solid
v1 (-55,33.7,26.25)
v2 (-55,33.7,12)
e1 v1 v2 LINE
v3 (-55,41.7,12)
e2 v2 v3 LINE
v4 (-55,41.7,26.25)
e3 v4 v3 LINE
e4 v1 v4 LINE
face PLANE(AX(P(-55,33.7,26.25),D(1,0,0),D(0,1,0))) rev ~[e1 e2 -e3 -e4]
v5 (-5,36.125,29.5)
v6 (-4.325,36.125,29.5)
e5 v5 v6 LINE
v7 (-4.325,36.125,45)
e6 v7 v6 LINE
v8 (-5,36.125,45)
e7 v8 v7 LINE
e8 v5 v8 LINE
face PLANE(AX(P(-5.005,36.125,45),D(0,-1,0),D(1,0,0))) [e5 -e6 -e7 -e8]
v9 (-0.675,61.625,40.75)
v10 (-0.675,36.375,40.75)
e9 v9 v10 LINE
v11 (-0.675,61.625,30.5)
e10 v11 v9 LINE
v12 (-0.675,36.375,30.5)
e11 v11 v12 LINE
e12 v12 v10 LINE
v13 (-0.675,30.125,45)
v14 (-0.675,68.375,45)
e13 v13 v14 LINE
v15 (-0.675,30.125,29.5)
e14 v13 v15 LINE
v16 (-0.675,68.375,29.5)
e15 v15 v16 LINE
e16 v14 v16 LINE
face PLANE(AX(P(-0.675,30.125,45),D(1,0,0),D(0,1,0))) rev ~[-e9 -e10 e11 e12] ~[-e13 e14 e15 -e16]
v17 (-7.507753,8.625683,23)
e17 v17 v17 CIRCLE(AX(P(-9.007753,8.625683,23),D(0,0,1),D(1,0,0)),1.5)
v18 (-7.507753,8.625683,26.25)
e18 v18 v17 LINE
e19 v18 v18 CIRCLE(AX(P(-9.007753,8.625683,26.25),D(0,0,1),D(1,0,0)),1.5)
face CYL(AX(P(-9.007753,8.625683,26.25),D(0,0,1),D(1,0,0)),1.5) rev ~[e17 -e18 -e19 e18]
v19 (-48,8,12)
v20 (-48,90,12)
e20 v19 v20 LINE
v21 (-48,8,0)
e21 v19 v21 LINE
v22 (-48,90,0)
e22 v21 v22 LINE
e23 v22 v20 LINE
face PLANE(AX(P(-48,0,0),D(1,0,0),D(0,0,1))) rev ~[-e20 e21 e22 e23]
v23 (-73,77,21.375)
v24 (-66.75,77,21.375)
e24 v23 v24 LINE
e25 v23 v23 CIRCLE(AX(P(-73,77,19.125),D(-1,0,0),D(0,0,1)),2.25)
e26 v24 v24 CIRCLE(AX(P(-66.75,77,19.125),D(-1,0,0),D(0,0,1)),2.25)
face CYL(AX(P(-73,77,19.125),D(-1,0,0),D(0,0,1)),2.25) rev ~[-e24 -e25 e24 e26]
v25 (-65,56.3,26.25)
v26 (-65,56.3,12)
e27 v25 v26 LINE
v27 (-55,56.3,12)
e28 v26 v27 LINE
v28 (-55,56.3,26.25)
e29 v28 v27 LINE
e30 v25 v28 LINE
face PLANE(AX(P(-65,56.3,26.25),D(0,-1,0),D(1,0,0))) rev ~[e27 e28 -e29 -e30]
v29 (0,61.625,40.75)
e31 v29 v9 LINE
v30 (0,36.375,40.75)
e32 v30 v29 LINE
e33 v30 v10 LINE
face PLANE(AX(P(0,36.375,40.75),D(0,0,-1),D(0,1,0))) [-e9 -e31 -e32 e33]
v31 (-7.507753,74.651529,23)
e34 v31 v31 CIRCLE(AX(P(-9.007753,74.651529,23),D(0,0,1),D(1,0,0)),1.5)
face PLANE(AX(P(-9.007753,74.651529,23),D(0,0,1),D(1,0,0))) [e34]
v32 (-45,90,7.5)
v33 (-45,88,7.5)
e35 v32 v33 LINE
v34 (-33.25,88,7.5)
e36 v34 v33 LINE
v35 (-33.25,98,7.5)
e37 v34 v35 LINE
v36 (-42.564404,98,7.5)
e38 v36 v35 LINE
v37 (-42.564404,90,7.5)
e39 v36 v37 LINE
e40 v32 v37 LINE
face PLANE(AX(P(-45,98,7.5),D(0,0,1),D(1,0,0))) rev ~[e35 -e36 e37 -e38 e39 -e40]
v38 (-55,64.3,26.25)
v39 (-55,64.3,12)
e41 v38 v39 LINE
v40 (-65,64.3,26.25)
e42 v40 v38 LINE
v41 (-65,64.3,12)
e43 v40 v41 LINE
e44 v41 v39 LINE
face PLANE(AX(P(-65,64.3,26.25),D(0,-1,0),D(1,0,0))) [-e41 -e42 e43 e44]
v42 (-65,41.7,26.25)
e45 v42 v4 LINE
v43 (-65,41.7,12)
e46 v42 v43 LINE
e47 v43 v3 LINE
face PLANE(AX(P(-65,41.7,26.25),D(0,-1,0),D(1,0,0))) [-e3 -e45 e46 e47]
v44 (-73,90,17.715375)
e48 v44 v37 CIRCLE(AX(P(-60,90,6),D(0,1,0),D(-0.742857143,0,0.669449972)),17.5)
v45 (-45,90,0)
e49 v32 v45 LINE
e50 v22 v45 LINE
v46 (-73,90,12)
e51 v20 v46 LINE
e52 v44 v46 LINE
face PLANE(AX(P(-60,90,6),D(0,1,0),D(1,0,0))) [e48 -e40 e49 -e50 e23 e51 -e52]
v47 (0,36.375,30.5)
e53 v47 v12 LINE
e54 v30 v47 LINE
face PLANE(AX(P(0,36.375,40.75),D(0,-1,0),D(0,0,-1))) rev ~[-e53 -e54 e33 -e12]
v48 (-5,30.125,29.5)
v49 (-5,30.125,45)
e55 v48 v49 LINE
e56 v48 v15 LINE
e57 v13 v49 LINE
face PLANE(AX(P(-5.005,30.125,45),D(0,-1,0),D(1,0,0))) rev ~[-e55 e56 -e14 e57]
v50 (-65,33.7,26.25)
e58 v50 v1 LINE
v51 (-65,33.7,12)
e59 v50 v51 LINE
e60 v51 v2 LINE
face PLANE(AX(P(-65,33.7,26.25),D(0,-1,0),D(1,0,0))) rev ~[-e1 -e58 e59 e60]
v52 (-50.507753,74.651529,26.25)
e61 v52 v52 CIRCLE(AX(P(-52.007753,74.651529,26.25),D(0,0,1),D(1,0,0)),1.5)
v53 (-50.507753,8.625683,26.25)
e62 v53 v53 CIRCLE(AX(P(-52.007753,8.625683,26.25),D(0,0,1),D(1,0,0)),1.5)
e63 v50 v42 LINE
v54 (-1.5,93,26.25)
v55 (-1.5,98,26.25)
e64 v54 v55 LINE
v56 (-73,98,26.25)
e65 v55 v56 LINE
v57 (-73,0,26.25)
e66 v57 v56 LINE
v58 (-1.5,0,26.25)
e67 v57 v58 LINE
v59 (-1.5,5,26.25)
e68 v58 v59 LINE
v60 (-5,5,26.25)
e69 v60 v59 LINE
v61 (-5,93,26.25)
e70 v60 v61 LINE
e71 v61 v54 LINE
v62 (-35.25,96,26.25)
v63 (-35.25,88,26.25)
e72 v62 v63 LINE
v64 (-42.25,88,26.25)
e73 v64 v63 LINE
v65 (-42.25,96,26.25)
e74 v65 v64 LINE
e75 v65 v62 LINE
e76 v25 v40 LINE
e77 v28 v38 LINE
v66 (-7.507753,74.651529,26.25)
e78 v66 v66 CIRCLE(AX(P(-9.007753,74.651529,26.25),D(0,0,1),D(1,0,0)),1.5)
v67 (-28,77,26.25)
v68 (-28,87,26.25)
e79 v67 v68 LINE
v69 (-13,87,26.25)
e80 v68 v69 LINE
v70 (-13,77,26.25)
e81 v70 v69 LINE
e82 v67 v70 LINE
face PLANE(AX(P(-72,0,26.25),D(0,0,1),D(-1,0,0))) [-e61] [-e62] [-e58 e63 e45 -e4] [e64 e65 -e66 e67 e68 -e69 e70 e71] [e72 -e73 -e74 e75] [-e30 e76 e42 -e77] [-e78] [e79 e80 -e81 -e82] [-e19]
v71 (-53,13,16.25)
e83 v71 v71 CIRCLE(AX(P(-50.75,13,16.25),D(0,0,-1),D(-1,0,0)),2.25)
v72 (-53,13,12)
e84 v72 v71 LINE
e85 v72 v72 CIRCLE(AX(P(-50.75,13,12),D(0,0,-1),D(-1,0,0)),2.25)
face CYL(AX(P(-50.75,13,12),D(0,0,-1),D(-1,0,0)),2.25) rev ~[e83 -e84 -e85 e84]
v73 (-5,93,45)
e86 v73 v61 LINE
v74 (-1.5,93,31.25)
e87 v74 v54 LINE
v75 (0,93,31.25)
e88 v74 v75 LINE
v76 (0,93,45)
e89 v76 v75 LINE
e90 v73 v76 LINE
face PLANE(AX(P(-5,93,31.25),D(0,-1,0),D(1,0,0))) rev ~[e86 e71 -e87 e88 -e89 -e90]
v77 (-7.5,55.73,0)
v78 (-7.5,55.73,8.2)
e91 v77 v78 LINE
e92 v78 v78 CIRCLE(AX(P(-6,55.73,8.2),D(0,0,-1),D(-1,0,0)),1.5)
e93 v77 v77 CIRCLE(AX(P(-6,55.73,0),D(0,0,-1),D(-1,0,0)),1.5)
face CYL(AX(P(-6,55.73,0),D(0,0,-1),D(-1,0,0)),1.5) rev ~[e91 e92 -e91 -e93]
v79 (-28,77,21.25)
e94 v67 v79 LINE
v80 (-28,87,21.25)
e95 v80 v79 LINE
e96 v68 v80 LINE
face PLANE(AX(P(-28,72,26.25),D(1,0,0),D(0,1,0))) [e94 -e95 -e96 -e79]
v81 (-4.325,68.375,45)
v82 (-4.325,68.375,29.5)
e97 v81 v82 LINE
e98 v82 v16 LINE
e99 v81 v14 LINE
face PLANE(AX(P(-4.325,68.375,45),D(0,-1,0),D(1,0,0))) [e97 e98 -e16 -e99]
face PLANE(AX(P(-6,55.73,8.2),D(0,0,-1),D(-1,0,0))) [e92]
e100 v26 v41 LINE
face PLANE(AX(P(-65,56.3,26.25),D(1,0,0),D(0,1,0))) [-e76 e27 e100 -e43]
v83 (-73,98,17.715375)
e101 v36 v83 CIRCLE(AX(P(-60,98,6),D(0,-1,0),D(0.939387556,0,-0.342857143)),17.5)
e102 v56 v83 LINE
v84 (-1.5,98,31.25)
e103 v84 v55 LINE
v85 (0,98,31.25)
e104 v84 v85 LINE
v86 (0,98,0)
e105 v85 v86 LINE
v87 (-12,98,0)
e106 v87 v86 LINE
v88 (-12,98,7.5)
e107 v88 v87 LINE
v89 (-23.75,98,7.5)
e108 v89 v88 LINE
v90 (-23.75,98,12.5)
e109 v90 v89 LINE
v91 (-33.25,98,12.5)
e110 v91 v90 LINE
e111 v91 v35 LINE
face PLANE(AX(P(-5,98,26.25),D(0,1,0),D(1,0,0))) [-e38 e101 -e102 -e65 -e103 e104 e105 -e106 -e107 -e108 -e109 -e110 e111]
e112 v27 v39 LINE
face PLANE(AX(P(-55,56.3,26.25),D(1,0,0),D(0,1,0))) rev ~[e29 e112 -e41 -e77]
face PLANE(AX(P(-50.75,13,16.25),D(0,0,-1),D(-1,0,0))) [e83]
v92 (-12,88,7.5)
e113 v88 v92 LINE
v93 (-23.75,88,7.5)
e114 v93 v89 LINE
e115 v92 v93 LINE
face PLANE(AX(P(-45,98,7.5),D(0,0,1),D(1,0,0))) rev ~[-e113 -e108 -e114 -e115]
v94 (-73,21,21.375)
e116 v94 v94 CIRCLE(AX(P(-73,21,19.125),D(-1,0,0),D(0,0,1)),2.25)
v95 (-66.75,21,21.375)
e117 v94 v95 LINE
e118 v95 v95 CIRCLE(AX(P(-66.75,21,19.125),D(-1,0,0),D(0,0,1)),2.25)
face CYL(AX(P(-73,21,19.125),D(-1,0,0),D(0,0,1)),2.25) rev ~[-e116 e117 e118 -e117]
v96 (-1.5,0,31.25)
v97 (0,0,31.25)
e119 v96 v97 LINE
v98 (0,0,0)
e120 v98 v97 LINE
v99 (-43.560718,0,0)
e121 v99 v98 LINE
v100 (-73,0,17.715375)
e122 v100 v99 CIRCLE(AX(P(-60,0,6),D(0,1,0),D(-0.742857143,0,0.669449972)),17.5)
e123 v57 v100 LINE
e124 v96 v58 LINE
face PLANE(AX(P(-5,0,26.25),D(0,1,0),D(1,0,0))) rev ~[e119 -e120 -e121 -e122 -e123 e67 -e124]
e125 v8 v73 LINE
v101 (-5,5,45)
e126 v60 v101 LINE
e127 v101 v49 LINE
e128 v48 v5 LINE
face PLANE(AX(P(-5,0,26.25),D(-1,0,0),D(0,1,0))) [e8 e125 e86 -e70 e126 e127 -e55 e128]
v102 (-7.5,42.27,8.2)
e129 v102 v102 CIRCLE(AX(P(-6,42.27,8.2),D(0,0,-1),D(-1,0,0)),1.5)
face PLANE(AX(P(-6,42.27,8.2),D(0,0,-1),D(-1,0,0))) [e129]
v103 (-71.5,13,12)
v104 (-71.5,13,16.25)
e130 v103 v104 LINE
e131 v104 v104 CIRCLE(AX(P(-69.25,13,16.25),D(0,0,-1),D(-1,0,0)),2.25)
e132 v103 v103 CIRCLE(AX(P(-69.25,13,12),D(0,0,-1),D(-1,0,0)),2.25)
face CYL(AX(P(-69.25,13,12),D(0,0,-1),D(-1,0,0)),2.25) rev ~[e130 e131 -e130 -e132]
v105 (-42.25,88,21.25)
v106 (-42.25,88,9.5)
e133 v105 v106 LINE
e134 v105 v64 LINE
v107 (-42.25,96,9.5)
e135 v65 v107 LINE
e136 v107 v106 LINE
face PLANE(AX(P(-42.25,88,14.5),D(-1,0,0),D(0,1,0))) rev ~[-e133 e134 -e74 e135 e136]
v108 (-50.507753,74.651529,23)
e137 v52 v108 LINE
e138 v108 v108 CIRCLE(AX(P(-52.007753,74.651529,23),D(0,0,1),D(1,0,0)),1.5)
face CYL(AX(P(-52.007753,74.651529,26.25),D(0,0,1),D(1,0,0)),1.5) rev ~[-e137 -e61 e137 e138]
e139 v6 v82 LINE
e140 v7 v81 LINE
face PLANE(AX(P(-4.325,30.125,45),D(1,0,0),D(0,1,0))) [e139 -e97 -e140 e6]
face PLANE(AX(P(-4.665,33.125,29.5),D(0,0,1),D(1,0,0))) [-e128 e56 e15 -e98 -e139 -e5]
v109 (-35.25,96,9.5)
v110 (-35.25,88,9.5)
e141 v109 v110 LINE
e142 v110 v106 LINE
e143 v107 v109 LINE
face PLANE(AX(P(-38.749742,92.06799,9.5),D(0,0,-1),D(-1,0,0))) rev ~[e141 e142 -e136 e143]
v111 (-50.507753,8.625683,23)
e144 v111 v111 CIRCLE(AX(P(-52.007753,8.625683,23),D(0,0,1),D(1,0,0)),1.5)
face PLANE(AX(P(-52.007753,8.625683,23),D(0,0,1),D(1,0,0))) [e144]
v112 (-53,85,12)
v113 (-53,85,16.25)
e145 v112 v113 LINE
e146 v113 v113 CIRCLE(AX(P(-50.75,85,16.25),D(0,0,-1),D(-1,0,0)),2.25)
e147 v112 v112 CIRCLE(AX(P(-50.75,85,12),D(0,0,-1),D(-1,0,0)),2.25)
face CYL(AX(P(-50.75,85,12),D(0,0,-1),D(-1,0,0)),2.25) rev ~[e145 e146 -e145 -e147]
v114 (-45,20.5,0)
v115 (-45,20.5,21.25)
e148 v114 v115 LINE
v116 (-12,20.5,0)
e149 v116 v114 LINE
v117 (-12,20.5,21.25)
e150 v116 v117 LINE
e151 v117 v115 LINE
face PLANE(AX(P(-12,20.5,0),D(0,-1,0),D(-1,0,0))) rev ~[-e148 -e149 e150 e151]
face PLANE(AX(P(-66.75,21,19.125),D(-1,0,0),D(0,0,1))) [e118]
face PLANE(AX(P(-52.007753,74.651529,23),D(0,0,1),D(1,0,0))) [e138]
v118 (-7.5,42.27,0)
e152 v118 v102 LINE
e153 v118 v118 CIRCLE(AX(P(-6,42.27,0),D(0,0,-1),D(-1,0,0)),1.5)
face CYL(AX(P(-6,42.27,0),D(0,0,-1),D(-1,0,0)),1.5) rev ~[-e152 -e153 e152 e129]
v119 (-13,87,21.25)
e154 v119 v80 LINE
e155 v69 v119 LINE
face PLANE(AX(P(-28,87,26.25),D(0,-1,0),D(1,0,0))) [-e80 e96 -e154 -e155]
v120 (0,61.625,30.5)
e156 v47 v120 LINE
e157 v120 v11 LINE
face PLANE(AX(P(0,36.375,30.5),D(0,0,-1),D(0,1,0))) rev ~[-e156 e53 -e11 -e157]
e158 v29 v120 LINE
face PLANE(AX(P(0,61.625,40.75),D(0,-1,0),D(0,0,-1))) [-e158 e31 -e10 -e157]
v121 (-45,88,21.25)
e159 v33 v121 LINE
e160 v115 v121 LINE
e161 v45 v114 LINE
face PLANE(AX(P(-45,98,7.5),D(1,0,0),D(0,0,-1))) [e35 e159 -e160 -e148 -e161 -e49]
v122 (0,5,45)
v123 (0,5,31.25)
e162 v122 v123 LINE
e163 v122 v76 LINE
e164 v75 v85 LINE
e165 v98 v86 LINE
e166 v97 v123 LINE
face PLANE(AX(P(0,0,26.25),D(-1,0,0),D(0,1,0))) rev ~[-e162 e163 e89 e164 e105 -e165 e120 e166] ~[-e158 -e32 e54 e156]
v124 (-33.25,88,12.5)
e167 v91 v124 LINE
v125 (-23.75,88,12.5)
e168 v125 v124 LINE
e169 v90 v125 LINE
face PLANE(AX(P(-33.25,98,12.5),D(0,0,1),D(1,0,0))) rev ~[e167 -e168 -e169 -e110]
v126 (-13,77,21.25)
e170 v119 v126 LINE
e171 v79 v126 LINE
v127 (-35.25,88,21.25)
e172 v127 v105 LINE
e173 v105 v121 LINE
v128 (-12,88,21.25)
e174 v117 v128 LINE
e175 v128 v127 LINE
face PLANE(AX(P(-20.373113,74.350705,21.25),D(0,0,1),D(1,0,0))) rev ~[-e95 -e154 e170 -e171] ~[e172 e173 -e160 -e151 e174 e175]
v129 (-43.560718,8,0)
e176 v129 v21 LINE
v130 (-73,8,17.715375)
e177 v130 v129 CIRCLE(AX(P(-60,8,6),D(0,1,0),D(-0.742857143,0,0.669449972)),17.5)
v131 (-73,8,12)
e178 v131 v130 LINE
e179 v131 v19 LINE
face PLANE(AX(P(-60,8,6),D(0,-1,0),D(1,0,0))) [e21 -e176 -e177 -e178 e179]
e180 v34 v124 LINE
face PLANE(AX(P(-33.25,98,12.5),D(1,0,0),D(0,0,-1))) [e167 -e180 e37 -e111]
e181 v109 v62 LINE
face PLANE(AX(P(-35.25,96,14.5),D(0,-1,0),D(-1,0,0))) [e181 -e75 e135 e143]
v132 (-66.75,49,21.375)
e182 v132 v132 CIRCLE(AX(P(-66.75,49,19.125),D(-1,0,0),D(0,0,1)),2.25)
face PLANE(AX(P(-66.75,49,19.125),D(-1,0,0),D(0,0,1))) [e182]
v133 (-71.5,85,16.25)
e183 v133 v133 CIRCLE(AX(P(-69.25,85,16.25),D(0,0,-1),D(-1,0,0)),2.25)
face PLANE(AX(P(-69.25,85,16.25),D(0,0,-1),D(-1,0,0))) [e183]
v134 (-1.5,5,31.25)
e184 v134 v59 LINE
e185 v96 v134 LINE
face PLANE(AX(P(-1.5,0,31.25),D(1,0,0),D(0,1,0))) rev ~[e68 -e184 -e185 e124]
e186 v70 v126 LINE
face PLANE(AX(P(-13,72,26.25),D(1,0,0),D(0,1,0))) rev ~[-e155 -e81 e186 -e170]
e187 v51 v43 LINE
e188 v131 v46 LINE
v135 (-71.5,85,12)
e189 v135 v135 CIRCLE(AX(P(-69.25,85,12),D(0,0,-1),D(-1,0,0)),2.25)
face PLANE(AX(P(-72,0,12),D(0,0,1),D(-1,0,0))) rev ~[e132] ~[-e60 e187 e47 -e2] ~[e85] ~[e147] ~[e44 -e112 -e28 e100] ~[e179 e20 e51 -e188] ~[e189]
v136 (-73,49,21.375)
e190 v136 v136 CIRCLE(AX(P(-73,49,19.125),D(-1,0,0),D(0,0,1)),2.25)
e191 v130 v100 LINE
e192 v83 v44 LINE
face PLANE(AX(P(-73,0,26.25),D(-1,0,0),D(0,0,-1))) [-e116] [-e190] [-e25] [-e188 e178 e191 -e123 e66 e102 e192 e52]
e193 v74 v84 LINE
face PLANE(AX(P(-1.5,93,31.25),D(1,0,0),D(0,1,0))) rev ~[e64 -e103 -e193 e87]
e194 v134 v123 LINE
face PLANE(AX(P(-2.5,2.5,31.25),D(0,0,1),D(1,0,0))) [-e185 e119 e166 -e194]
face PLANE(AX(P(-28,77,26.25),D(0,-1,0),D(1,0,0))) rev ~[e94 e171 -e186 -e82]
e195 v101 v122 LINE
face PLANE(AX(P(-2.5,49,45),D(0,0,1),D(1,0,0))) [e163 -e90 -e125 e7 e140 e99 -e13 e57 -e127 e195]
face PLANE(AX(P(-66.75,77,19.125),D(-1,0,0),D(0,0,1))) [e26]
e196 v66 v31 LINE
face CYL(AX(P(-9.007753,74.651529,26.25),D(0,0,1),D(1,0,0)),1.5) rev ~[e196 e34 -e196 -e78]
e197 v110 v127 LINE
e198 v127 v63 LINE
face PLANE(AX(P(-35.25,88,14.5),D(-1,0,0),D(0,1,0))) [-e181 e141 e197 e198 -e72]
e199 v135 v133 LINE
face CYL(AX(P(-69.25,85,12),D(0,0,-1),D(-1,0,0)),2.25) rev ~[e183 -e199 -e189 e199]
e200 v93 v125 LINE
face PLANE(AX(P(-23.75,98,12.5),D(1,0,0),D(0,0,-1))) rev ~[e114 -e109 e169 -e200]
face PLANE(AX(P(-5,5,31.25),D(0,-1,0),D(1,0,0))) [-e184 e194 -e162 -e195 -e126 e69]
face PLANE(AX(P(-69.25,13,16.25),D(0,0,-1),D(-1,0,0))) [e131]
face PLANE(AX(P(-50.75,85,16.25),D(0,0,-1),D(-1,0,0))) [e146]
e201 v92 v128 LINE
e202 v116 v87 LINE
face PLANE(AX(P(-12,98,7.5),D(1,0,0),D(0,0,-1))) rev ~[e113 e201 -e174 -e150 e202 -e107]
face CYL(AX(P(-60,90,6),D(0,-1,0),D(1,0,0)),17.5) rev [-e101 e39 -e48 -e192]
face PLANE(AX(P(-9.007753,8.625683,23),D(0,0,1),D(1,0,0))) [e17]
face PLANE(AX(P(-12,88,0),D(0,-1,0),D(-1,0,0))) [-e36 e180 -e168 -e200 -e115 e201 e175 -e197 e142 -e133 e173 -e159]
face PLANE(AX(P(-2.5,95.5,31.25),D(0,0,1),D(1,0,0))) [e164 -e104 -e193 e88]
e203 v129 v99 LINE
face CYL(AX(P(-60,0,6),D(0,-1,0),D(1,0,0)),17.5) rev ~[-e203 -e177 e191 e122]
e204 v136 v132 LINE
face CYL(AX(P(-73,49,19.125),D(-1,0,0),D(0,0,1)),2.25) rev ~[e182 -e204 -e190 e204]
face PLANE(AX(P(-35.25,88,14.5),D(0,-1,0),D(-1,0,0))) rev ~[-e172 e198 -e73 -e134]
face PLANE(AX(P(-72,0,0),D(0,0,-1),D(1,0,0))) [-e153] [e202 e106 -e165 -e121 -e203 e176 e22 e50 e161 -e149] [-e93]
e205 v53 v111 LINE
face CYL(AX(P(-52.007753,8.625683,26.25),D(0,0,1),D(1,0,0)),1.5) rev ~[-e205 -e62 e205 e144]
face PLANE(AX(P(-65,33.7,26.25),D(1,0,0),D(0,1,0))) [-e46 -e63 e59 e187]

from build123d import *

# Parameters (mm, degrees)
SKETCH1_W           = 72
SKETCH1_H           = 26.25
BOSS_EXTRUDE1_DEPTH = 98
SKETCH3_W           = 24
SKETCH3_H           = 12
CUT_EXTRUDE2_DEPTH  = 98
SKETCH4_W           = 1
SKETCH4_H           = 14.25
BOSS_EXTRUDE2_DEPTH = 98
SKETCH8_R           = 17.5
CUT_EXTRUDE6_DEPTH  = 8
CUT_EXTRUDE7_START  = -8
SKETCH9_R           = 17.5
CUT_EXTRUDE7_DEPTH  = 8
SKETCH10_R          = 2.25
CUT_EXTRUDE8_DEPTH  = 4.25
SKETCH11_W          = 33
SKETCH11_H          = 67.5
CUT_EXTRUDE9_DEPTH  = 21.25
SKETCH12_W          = 33
SKETCH12_H          = 7.5
CUT_EXTRUDE10_DEPTH = 21.25
SKETCH13_W          = 9.5
SKETCH13_H          = 10
CUT_EXTRUDE11_DEPTH = 21.25
SKETCH14_W          = 5
SKETCH14_H          = 5
CUT_EXTRUDE13_DEPTH = 101.25
SKETCH17_W          = 7
SKETCH17_H          = 8
CUT_EXTRUDE14_DEPTH = 7
SKETCH18_W          = 5.398243629
SKETCH18_H          = 5.439982626
BOSS_EXTRUDE3_DEPTH = 2
SKETCH19_W          = 15
SKETCH19_H          = 15
CUT_EXTRUDE15_DEPTH = 12
SKETCH20_W          = 15.253773686
SKETCH20_H          = 5.298590198
BOSS_EXTRUDE5_DEPTH = 5
SKETCH22_R          = 1.5
CUT_EXTRUDE16_DEPTH = 8.2
SKETCH23_W          = 10
SKETCH23_H          = 8
CUT_EXTRUDE18_DEPTH = 125.988249448
SKETCH25_R          = 2.25
CUT_EXTRUDE20_DEPTH = 6.25
SKETCH26_W          = 7
SKETCH26_H          = 8
CUT_EXTRUDE21_DEPTH = 124.057913195
SKETCH28_W          = 7.366793482
SKETCH28_H          = 8.135980894
BOSS_EXTRUDE6_DEPTH = 2
SKETCH31_R          = 1.5
CUT_EXTRUDE24_DEPTH = 3.25
SKETCH32_W          = 5
SKETCH32_H          = 98
BOSS_EXTRUDE7_DEPTH = 18.75
SKETCH34_W          = 5
SKETCH34_H          = 5
CUT_EXTRUDE27_DEPTH = 13.75
SKETCH35_W          = 3.5
SKETCH35_H          = 5
CUT_EXTRUDE28_DEPTH = 5
SKETCH37_W          = 10.25
SKETCH37_H          = 25.25
CUT_EXTRUDE29_DEPTH = 3
SKETCH36_W          = 3.65
SKETCH36_H          = 38.25
CUT_EXTRUDE30_DEPTH = 15.5
SKETCH38_W          = 0.68
SKETCH38_H          = 6
CUT_EXTRUDE31_DEPTH = 15.5


with BuildPart() as part:
    # Sketch1 → Boss-Extrude1 (new body)
    with BuildSketch(Plane(origin=(0, 0, 0), x_dir=(1, 0, 0), z_dir=(0, 1, 0))):
        with Locations((-36, -13.125)):
            Rectangle(SKETCH1_W, SKETCH1_H)
    extrude(amount=BOSS_EXTRUDE1_DEPTH)

    # Sketch3 → Cut-Extrude2 (cut)
    with BuildSketch(Plane.XZ):
        with Locations((-60, 6)):
            Rectangle(SKETCH3_W, SKETCH3_H)
    extrude(amount=-CUT_EXTRUDE2_DEPTH, mode=Mode.SUBTRACT)

    # Sketch4 → Boss-Extrude2 (add)
    with BuildSketch(Plane(origin=(0, 0, 0), x_dir=(-1, 0, 0), z_dir=(0, -1, 0))):
        with Locations((72.5, -19.125)):
            Rectangle(SKETCH4_W, SKETCH4_H)
    extrude(amount=-BOSS_EXTRUDE2_DEPTH)

    # Sketch8 → Cut-Extrude6 (cut)
    with BuildSketch(Plane.XZ):
        with Locations((-60, 6)):
            Circle(SKETCH8_R)
    extrude(amount=-CUT_EXTRUDE6_DEPTH, mode=Mode.SUBTRACT)

    # Sketch9 → Cut-Extrude7 (cut)
    with BuildSketch(Plane(origin=(0, 98, 0), x_dir=(1, 0, 0), z_dir=(0, 1, 0)).offset(CUT_EXTRUDE7_START)):
        with Locations((-60, -6)):
            Circle(SKETCH9_R)
    extrude(amount=CUT_EXTRUDE7_DEPTH, mode=Mode.SUBTRACT)

    # Sketch10 → Cut-Extrude8 (cut)
    with BuildSketch(Plane(origin=(0, 0, 12), x_dir=(-1, 0, 0), z_dir=(0, 0, -1))):
        with Locations((69.25, 85)):
            Circle(SKETCH10_R)
        with Locations((50.75, 85)):
            Circle(SKETCH10_R)
        with Locations((69.25, 13)):
            Circle(SKETCH10_R)
        with Locations((50.75, 13)):
            Circle(SKETCH10_R)
    extrude(amount=-CUT_EXTRUDE8_DEPTH, mode=Mode.SUBTRACT)

    # Sketch11 → Cut-Extrude9 (cut)
    with BuildSketch(Plane(origin=(0, 0, 0), x_dir=(-1, 0, 0), z_dir=(0, 0, -1))):
        with Locations((28.5, 54.25)):
            Rectangle(SKETCH11_W, SKETCH11_H)
    extrude(amount=-CUT_EXTRUDE9_DEPTH, mode=Mode.SUBTRACT)

    # Sketch12 → Cut-Extrude10 (cut)
    with BuildSketch(Plane(origin=(0, 98, 0), x_dir=(1, 0, 0), z_dir=(0, 1, 0))):
        with Locations((-28.5, -3.75)):
            Rectangle(SKETCH12_W, SKETCH12_H)
    extrude(amount=-CUT_EXTRUDE10_DEPTH, mode=Mode.SUBTRACT)

    # Sketch13 → Cut-Extrude11 (cut)
    with BuildSketch(Plane(origin=(0, 98, 0), x_dir=(1, 0, 0), z_dir=(0, 1, 0))):
        with Locations((-28.5, -7.5)):
            Rectangle(SKETCH13_W, SKETCH13_H)
    extrude(amount=-CUT_EXTRUDE11_DEPTH, mode=Mode.SUBTRACT)

    # Sketch14 → Cut-Extrude13 (cut)
    with BuildSketch(Plane(origin=(0, 20.5, 0), x_dir=(1, 0, 0), z_dir=(0, 1, 0))):
        with Locations((-39.5, -12)):
            Rectangle(SKETCH14_W, SKETCH14_H)
    extrude(amount=CUT_EXTRUDE13_DEPTH, mode=Mode.SUBTRACT)

    # Sketch17 → Cut-Extrude14 (cut)
    with BuildSketch(Plane(origin=(0, 0, 7.5), x_dir=(-1, 0, 0), z_dir=(0, 0, -1))):
        with Locations((38.75, 92)):
            Rectangle(SKETCH17_W, SKETCH17_H)
    extrude(amount=-CUT_EXTRUDE14_DEPTH, mode=Mode.SUBTRACT)

    # Sketch18 → Boss-Extrude3 (add)
    with BuildSketch(Plane(origin=(0, 98, 0), x_dir=(1, 0, 0), z_dir=(0, 1, 0))):
        with Locations((-39.480706385, -11.994977786)):
            Rectangle(SKETCH18_W, SKETCH18_H)
    extrude(amount=-BOSS_EXTRUDE3_DEPTH)

    # Sketch19 → Cut-Extrude15 (cut)
    with BuildSketch(Plane.XY.offset(26.25)):
        with Locations((-20.5, 79.5)):
            Rectangle(SKETCH19_W, SKETCH19_H)
    extrude(amount=-CUT_EXTRUDE15_DEPTH, mode=Mode.SUBTRACT)

    # Sketch20 → Boss-Extrude5 (add)
    with BuildSketch(Plane.XY.offset(26.25)):
        with Locations((-20.373113157, 74.350704901)):
            Rectangle(SKETCH20_W, SKETCH20_H)
    extrude(amount=-BOSS_EXTRUDE5_DEPTH)

    # Sketch22 → Cut-Extrude16 (cut)
    with BuildSketch(Plane(origin=(0, 0, 0), x_dir=(-1, 0, 0), z_dir=(0, 0, -1))):
        with Locations((6, 55.73)):
            Circle(SKETCH22_R)
        with Locations((6, 42.27)):
            Circle(SKETCH22_R)
    extrude(amount=-CUT_EXTRUDE16_DEPTH, mode=Mode.SUBTRACT)

    # Sketch23 → Cut-Extrude18 (cut, through all)
    with BuildSketch(Plane.XY.offset(26.25)):
        with Locations((-60, 37.7)):
            Rectangle(SKETCH23_W, SKETCH23_H)
        with Locations((-60, 60.3)):
            Rectangle(SKETCH23_W, SKETCH23_H)
    extrude(amount=-CUT_EXTRUDE18_DEPTH, mode=Mode.SUBTRACT)

    # Sketch25 → Cut-Extrude20 (cut)
    with BuildSketch(Plane.ZY.offset(73)):
        with Locations((19.125, 77)):
            Circle(SKETCH25_R)
        with Locations((19.125, 49)):
            Circle(SKETCH25_R)
        with Locations((19.125, 21)):
            Circle(SKETCH25_R)
    extrude(amount=-CUT_EXTRUDE20_DEPTH, mode=Mode.SUBTRACT)

    # Sketch26 → Cut-Extrude21 (cut, through all)
    with BuildSketch(Plane(origin=(0, 0, 14.5), x_dir=(-1, 0, 0), z_dir=(0, 0, -1))):
        with Locations((38.75, 92)):
            Rectangle(SKETCH26_W, SKETCH26_H)
    extrude(amount=-CUT_EXTRUDE21_DEPTH, mode=Mode.SUBTRACT)

    # Sketch28 → Boss-Extrude6 (add)
    with BuildSketch(Plane(origin=(0, 0, 7.5), x_dir=(-1, 0, 0), z_dir=(0, 0, -1))):
        with Locations((38.749742444, 92.067990447)):
            Rectangle(SKETCH28_W, SKETCH28_H)
    extrude(amount=-BOSS_EXTRUDE6_DEPTH)

    # Sketch31 → Cut-Extrude24 (cut)
    with BuildSketch(Plane.XY.offset(26.25)):
        with Locations((-52.007752906, 74.651528785)):
            Circle(SKETCH31_R)
        with Locations((-9.007752906, 74.651528785)):
            Circle(SKETCH31_R)
        with Locations((-9.007752906, 8.625682812)):
            Circle(SKETCH31_R)
        with Locations((-52.007752906, 8.625682812)):
            Circle(SKETCH31_R)
    extrude(amount=-CUT_EXTRUDE24_DEPTH, mode=Mode.SUBTRACT)

    # Sketch32 → Boss-Extrude7 (add)
    with BuildSketch(Plane.XY.offset(26.25)):
        with Locations((-2.5, 49)):
            Rectangle(SKETCH32_W, SKETCH32_H)
    extrude(amount=BOSS_EXTRUDE7_DEPTH)

    # Sketch34 → Cut-Extrude27 (cut)
    with BuildSketch(Plane.XY.offset(45)):
        with Locations((-2.5, 95.5)):
            Rectangle(SKETCH34_W, SKETCH34_H)
        with Locations((-2.5, 2.5)):
            Rectangle(SKETCH34_W, SKETCH34_H)
    extrude(amount=-CUT_EXTRUDE27_DEPTH, mode=Mode.SUBTRACT)

    # Sketch35 → Cut-Extrude28 (cut)
    with BuildSketch(Plane.XY.offset(31.25)):
        with Locations((-3.25, 95.5)):
            Rectangle(SKETCH35_W, SKETCH35_H)
        with Locations((-3.25, 2.5)):
            Rectangle(SKETCH35_W, SKETCH35_H)
    extrude(amount=-CUT_EXTRUDE28_DEPTH, mode=Mode.SUBTRACT)

    # Sketch37 → Cut-Extrude29 (cut)
    with BuildSketch(Plane(origin=(0, 0, 0), x_dir=(0, 0, -1), z_dir=(1, 0, 0))):
        with Locations((-35.625, 49)):
            Rectangle(SKETCH37_W, SKETCH37_H)
    extrude(amount=-CUT_EXTRUDE29_DEPTH, mode=Mode.SUBTRACT)

    # Sketch36 → Cut-Extrude30 (cut)
    with BuildSketch(Plane.XY.offset(45)):
        with Locations((-2.5, 49.25)):
            Rectangle(SKETCH36_W, SKETCH36_H)
    extrude(amount=-CUT_EXTRUDE30_DEPTH, mode=Mode.SUBTRACT)

    # Sketch38 → Cut-Extrude31 (cut)
    with BuildSketch(Plane.XY.offset(45)):
        with Locations((-4.665, 33.125)):
            Rectangle(SKETCH38_W, SKETCH38_H)
    extrude(amount=-CUT_EXTRUDE31_DEPTH, mode=Mode.SUBTRACT)


solid = part.part
